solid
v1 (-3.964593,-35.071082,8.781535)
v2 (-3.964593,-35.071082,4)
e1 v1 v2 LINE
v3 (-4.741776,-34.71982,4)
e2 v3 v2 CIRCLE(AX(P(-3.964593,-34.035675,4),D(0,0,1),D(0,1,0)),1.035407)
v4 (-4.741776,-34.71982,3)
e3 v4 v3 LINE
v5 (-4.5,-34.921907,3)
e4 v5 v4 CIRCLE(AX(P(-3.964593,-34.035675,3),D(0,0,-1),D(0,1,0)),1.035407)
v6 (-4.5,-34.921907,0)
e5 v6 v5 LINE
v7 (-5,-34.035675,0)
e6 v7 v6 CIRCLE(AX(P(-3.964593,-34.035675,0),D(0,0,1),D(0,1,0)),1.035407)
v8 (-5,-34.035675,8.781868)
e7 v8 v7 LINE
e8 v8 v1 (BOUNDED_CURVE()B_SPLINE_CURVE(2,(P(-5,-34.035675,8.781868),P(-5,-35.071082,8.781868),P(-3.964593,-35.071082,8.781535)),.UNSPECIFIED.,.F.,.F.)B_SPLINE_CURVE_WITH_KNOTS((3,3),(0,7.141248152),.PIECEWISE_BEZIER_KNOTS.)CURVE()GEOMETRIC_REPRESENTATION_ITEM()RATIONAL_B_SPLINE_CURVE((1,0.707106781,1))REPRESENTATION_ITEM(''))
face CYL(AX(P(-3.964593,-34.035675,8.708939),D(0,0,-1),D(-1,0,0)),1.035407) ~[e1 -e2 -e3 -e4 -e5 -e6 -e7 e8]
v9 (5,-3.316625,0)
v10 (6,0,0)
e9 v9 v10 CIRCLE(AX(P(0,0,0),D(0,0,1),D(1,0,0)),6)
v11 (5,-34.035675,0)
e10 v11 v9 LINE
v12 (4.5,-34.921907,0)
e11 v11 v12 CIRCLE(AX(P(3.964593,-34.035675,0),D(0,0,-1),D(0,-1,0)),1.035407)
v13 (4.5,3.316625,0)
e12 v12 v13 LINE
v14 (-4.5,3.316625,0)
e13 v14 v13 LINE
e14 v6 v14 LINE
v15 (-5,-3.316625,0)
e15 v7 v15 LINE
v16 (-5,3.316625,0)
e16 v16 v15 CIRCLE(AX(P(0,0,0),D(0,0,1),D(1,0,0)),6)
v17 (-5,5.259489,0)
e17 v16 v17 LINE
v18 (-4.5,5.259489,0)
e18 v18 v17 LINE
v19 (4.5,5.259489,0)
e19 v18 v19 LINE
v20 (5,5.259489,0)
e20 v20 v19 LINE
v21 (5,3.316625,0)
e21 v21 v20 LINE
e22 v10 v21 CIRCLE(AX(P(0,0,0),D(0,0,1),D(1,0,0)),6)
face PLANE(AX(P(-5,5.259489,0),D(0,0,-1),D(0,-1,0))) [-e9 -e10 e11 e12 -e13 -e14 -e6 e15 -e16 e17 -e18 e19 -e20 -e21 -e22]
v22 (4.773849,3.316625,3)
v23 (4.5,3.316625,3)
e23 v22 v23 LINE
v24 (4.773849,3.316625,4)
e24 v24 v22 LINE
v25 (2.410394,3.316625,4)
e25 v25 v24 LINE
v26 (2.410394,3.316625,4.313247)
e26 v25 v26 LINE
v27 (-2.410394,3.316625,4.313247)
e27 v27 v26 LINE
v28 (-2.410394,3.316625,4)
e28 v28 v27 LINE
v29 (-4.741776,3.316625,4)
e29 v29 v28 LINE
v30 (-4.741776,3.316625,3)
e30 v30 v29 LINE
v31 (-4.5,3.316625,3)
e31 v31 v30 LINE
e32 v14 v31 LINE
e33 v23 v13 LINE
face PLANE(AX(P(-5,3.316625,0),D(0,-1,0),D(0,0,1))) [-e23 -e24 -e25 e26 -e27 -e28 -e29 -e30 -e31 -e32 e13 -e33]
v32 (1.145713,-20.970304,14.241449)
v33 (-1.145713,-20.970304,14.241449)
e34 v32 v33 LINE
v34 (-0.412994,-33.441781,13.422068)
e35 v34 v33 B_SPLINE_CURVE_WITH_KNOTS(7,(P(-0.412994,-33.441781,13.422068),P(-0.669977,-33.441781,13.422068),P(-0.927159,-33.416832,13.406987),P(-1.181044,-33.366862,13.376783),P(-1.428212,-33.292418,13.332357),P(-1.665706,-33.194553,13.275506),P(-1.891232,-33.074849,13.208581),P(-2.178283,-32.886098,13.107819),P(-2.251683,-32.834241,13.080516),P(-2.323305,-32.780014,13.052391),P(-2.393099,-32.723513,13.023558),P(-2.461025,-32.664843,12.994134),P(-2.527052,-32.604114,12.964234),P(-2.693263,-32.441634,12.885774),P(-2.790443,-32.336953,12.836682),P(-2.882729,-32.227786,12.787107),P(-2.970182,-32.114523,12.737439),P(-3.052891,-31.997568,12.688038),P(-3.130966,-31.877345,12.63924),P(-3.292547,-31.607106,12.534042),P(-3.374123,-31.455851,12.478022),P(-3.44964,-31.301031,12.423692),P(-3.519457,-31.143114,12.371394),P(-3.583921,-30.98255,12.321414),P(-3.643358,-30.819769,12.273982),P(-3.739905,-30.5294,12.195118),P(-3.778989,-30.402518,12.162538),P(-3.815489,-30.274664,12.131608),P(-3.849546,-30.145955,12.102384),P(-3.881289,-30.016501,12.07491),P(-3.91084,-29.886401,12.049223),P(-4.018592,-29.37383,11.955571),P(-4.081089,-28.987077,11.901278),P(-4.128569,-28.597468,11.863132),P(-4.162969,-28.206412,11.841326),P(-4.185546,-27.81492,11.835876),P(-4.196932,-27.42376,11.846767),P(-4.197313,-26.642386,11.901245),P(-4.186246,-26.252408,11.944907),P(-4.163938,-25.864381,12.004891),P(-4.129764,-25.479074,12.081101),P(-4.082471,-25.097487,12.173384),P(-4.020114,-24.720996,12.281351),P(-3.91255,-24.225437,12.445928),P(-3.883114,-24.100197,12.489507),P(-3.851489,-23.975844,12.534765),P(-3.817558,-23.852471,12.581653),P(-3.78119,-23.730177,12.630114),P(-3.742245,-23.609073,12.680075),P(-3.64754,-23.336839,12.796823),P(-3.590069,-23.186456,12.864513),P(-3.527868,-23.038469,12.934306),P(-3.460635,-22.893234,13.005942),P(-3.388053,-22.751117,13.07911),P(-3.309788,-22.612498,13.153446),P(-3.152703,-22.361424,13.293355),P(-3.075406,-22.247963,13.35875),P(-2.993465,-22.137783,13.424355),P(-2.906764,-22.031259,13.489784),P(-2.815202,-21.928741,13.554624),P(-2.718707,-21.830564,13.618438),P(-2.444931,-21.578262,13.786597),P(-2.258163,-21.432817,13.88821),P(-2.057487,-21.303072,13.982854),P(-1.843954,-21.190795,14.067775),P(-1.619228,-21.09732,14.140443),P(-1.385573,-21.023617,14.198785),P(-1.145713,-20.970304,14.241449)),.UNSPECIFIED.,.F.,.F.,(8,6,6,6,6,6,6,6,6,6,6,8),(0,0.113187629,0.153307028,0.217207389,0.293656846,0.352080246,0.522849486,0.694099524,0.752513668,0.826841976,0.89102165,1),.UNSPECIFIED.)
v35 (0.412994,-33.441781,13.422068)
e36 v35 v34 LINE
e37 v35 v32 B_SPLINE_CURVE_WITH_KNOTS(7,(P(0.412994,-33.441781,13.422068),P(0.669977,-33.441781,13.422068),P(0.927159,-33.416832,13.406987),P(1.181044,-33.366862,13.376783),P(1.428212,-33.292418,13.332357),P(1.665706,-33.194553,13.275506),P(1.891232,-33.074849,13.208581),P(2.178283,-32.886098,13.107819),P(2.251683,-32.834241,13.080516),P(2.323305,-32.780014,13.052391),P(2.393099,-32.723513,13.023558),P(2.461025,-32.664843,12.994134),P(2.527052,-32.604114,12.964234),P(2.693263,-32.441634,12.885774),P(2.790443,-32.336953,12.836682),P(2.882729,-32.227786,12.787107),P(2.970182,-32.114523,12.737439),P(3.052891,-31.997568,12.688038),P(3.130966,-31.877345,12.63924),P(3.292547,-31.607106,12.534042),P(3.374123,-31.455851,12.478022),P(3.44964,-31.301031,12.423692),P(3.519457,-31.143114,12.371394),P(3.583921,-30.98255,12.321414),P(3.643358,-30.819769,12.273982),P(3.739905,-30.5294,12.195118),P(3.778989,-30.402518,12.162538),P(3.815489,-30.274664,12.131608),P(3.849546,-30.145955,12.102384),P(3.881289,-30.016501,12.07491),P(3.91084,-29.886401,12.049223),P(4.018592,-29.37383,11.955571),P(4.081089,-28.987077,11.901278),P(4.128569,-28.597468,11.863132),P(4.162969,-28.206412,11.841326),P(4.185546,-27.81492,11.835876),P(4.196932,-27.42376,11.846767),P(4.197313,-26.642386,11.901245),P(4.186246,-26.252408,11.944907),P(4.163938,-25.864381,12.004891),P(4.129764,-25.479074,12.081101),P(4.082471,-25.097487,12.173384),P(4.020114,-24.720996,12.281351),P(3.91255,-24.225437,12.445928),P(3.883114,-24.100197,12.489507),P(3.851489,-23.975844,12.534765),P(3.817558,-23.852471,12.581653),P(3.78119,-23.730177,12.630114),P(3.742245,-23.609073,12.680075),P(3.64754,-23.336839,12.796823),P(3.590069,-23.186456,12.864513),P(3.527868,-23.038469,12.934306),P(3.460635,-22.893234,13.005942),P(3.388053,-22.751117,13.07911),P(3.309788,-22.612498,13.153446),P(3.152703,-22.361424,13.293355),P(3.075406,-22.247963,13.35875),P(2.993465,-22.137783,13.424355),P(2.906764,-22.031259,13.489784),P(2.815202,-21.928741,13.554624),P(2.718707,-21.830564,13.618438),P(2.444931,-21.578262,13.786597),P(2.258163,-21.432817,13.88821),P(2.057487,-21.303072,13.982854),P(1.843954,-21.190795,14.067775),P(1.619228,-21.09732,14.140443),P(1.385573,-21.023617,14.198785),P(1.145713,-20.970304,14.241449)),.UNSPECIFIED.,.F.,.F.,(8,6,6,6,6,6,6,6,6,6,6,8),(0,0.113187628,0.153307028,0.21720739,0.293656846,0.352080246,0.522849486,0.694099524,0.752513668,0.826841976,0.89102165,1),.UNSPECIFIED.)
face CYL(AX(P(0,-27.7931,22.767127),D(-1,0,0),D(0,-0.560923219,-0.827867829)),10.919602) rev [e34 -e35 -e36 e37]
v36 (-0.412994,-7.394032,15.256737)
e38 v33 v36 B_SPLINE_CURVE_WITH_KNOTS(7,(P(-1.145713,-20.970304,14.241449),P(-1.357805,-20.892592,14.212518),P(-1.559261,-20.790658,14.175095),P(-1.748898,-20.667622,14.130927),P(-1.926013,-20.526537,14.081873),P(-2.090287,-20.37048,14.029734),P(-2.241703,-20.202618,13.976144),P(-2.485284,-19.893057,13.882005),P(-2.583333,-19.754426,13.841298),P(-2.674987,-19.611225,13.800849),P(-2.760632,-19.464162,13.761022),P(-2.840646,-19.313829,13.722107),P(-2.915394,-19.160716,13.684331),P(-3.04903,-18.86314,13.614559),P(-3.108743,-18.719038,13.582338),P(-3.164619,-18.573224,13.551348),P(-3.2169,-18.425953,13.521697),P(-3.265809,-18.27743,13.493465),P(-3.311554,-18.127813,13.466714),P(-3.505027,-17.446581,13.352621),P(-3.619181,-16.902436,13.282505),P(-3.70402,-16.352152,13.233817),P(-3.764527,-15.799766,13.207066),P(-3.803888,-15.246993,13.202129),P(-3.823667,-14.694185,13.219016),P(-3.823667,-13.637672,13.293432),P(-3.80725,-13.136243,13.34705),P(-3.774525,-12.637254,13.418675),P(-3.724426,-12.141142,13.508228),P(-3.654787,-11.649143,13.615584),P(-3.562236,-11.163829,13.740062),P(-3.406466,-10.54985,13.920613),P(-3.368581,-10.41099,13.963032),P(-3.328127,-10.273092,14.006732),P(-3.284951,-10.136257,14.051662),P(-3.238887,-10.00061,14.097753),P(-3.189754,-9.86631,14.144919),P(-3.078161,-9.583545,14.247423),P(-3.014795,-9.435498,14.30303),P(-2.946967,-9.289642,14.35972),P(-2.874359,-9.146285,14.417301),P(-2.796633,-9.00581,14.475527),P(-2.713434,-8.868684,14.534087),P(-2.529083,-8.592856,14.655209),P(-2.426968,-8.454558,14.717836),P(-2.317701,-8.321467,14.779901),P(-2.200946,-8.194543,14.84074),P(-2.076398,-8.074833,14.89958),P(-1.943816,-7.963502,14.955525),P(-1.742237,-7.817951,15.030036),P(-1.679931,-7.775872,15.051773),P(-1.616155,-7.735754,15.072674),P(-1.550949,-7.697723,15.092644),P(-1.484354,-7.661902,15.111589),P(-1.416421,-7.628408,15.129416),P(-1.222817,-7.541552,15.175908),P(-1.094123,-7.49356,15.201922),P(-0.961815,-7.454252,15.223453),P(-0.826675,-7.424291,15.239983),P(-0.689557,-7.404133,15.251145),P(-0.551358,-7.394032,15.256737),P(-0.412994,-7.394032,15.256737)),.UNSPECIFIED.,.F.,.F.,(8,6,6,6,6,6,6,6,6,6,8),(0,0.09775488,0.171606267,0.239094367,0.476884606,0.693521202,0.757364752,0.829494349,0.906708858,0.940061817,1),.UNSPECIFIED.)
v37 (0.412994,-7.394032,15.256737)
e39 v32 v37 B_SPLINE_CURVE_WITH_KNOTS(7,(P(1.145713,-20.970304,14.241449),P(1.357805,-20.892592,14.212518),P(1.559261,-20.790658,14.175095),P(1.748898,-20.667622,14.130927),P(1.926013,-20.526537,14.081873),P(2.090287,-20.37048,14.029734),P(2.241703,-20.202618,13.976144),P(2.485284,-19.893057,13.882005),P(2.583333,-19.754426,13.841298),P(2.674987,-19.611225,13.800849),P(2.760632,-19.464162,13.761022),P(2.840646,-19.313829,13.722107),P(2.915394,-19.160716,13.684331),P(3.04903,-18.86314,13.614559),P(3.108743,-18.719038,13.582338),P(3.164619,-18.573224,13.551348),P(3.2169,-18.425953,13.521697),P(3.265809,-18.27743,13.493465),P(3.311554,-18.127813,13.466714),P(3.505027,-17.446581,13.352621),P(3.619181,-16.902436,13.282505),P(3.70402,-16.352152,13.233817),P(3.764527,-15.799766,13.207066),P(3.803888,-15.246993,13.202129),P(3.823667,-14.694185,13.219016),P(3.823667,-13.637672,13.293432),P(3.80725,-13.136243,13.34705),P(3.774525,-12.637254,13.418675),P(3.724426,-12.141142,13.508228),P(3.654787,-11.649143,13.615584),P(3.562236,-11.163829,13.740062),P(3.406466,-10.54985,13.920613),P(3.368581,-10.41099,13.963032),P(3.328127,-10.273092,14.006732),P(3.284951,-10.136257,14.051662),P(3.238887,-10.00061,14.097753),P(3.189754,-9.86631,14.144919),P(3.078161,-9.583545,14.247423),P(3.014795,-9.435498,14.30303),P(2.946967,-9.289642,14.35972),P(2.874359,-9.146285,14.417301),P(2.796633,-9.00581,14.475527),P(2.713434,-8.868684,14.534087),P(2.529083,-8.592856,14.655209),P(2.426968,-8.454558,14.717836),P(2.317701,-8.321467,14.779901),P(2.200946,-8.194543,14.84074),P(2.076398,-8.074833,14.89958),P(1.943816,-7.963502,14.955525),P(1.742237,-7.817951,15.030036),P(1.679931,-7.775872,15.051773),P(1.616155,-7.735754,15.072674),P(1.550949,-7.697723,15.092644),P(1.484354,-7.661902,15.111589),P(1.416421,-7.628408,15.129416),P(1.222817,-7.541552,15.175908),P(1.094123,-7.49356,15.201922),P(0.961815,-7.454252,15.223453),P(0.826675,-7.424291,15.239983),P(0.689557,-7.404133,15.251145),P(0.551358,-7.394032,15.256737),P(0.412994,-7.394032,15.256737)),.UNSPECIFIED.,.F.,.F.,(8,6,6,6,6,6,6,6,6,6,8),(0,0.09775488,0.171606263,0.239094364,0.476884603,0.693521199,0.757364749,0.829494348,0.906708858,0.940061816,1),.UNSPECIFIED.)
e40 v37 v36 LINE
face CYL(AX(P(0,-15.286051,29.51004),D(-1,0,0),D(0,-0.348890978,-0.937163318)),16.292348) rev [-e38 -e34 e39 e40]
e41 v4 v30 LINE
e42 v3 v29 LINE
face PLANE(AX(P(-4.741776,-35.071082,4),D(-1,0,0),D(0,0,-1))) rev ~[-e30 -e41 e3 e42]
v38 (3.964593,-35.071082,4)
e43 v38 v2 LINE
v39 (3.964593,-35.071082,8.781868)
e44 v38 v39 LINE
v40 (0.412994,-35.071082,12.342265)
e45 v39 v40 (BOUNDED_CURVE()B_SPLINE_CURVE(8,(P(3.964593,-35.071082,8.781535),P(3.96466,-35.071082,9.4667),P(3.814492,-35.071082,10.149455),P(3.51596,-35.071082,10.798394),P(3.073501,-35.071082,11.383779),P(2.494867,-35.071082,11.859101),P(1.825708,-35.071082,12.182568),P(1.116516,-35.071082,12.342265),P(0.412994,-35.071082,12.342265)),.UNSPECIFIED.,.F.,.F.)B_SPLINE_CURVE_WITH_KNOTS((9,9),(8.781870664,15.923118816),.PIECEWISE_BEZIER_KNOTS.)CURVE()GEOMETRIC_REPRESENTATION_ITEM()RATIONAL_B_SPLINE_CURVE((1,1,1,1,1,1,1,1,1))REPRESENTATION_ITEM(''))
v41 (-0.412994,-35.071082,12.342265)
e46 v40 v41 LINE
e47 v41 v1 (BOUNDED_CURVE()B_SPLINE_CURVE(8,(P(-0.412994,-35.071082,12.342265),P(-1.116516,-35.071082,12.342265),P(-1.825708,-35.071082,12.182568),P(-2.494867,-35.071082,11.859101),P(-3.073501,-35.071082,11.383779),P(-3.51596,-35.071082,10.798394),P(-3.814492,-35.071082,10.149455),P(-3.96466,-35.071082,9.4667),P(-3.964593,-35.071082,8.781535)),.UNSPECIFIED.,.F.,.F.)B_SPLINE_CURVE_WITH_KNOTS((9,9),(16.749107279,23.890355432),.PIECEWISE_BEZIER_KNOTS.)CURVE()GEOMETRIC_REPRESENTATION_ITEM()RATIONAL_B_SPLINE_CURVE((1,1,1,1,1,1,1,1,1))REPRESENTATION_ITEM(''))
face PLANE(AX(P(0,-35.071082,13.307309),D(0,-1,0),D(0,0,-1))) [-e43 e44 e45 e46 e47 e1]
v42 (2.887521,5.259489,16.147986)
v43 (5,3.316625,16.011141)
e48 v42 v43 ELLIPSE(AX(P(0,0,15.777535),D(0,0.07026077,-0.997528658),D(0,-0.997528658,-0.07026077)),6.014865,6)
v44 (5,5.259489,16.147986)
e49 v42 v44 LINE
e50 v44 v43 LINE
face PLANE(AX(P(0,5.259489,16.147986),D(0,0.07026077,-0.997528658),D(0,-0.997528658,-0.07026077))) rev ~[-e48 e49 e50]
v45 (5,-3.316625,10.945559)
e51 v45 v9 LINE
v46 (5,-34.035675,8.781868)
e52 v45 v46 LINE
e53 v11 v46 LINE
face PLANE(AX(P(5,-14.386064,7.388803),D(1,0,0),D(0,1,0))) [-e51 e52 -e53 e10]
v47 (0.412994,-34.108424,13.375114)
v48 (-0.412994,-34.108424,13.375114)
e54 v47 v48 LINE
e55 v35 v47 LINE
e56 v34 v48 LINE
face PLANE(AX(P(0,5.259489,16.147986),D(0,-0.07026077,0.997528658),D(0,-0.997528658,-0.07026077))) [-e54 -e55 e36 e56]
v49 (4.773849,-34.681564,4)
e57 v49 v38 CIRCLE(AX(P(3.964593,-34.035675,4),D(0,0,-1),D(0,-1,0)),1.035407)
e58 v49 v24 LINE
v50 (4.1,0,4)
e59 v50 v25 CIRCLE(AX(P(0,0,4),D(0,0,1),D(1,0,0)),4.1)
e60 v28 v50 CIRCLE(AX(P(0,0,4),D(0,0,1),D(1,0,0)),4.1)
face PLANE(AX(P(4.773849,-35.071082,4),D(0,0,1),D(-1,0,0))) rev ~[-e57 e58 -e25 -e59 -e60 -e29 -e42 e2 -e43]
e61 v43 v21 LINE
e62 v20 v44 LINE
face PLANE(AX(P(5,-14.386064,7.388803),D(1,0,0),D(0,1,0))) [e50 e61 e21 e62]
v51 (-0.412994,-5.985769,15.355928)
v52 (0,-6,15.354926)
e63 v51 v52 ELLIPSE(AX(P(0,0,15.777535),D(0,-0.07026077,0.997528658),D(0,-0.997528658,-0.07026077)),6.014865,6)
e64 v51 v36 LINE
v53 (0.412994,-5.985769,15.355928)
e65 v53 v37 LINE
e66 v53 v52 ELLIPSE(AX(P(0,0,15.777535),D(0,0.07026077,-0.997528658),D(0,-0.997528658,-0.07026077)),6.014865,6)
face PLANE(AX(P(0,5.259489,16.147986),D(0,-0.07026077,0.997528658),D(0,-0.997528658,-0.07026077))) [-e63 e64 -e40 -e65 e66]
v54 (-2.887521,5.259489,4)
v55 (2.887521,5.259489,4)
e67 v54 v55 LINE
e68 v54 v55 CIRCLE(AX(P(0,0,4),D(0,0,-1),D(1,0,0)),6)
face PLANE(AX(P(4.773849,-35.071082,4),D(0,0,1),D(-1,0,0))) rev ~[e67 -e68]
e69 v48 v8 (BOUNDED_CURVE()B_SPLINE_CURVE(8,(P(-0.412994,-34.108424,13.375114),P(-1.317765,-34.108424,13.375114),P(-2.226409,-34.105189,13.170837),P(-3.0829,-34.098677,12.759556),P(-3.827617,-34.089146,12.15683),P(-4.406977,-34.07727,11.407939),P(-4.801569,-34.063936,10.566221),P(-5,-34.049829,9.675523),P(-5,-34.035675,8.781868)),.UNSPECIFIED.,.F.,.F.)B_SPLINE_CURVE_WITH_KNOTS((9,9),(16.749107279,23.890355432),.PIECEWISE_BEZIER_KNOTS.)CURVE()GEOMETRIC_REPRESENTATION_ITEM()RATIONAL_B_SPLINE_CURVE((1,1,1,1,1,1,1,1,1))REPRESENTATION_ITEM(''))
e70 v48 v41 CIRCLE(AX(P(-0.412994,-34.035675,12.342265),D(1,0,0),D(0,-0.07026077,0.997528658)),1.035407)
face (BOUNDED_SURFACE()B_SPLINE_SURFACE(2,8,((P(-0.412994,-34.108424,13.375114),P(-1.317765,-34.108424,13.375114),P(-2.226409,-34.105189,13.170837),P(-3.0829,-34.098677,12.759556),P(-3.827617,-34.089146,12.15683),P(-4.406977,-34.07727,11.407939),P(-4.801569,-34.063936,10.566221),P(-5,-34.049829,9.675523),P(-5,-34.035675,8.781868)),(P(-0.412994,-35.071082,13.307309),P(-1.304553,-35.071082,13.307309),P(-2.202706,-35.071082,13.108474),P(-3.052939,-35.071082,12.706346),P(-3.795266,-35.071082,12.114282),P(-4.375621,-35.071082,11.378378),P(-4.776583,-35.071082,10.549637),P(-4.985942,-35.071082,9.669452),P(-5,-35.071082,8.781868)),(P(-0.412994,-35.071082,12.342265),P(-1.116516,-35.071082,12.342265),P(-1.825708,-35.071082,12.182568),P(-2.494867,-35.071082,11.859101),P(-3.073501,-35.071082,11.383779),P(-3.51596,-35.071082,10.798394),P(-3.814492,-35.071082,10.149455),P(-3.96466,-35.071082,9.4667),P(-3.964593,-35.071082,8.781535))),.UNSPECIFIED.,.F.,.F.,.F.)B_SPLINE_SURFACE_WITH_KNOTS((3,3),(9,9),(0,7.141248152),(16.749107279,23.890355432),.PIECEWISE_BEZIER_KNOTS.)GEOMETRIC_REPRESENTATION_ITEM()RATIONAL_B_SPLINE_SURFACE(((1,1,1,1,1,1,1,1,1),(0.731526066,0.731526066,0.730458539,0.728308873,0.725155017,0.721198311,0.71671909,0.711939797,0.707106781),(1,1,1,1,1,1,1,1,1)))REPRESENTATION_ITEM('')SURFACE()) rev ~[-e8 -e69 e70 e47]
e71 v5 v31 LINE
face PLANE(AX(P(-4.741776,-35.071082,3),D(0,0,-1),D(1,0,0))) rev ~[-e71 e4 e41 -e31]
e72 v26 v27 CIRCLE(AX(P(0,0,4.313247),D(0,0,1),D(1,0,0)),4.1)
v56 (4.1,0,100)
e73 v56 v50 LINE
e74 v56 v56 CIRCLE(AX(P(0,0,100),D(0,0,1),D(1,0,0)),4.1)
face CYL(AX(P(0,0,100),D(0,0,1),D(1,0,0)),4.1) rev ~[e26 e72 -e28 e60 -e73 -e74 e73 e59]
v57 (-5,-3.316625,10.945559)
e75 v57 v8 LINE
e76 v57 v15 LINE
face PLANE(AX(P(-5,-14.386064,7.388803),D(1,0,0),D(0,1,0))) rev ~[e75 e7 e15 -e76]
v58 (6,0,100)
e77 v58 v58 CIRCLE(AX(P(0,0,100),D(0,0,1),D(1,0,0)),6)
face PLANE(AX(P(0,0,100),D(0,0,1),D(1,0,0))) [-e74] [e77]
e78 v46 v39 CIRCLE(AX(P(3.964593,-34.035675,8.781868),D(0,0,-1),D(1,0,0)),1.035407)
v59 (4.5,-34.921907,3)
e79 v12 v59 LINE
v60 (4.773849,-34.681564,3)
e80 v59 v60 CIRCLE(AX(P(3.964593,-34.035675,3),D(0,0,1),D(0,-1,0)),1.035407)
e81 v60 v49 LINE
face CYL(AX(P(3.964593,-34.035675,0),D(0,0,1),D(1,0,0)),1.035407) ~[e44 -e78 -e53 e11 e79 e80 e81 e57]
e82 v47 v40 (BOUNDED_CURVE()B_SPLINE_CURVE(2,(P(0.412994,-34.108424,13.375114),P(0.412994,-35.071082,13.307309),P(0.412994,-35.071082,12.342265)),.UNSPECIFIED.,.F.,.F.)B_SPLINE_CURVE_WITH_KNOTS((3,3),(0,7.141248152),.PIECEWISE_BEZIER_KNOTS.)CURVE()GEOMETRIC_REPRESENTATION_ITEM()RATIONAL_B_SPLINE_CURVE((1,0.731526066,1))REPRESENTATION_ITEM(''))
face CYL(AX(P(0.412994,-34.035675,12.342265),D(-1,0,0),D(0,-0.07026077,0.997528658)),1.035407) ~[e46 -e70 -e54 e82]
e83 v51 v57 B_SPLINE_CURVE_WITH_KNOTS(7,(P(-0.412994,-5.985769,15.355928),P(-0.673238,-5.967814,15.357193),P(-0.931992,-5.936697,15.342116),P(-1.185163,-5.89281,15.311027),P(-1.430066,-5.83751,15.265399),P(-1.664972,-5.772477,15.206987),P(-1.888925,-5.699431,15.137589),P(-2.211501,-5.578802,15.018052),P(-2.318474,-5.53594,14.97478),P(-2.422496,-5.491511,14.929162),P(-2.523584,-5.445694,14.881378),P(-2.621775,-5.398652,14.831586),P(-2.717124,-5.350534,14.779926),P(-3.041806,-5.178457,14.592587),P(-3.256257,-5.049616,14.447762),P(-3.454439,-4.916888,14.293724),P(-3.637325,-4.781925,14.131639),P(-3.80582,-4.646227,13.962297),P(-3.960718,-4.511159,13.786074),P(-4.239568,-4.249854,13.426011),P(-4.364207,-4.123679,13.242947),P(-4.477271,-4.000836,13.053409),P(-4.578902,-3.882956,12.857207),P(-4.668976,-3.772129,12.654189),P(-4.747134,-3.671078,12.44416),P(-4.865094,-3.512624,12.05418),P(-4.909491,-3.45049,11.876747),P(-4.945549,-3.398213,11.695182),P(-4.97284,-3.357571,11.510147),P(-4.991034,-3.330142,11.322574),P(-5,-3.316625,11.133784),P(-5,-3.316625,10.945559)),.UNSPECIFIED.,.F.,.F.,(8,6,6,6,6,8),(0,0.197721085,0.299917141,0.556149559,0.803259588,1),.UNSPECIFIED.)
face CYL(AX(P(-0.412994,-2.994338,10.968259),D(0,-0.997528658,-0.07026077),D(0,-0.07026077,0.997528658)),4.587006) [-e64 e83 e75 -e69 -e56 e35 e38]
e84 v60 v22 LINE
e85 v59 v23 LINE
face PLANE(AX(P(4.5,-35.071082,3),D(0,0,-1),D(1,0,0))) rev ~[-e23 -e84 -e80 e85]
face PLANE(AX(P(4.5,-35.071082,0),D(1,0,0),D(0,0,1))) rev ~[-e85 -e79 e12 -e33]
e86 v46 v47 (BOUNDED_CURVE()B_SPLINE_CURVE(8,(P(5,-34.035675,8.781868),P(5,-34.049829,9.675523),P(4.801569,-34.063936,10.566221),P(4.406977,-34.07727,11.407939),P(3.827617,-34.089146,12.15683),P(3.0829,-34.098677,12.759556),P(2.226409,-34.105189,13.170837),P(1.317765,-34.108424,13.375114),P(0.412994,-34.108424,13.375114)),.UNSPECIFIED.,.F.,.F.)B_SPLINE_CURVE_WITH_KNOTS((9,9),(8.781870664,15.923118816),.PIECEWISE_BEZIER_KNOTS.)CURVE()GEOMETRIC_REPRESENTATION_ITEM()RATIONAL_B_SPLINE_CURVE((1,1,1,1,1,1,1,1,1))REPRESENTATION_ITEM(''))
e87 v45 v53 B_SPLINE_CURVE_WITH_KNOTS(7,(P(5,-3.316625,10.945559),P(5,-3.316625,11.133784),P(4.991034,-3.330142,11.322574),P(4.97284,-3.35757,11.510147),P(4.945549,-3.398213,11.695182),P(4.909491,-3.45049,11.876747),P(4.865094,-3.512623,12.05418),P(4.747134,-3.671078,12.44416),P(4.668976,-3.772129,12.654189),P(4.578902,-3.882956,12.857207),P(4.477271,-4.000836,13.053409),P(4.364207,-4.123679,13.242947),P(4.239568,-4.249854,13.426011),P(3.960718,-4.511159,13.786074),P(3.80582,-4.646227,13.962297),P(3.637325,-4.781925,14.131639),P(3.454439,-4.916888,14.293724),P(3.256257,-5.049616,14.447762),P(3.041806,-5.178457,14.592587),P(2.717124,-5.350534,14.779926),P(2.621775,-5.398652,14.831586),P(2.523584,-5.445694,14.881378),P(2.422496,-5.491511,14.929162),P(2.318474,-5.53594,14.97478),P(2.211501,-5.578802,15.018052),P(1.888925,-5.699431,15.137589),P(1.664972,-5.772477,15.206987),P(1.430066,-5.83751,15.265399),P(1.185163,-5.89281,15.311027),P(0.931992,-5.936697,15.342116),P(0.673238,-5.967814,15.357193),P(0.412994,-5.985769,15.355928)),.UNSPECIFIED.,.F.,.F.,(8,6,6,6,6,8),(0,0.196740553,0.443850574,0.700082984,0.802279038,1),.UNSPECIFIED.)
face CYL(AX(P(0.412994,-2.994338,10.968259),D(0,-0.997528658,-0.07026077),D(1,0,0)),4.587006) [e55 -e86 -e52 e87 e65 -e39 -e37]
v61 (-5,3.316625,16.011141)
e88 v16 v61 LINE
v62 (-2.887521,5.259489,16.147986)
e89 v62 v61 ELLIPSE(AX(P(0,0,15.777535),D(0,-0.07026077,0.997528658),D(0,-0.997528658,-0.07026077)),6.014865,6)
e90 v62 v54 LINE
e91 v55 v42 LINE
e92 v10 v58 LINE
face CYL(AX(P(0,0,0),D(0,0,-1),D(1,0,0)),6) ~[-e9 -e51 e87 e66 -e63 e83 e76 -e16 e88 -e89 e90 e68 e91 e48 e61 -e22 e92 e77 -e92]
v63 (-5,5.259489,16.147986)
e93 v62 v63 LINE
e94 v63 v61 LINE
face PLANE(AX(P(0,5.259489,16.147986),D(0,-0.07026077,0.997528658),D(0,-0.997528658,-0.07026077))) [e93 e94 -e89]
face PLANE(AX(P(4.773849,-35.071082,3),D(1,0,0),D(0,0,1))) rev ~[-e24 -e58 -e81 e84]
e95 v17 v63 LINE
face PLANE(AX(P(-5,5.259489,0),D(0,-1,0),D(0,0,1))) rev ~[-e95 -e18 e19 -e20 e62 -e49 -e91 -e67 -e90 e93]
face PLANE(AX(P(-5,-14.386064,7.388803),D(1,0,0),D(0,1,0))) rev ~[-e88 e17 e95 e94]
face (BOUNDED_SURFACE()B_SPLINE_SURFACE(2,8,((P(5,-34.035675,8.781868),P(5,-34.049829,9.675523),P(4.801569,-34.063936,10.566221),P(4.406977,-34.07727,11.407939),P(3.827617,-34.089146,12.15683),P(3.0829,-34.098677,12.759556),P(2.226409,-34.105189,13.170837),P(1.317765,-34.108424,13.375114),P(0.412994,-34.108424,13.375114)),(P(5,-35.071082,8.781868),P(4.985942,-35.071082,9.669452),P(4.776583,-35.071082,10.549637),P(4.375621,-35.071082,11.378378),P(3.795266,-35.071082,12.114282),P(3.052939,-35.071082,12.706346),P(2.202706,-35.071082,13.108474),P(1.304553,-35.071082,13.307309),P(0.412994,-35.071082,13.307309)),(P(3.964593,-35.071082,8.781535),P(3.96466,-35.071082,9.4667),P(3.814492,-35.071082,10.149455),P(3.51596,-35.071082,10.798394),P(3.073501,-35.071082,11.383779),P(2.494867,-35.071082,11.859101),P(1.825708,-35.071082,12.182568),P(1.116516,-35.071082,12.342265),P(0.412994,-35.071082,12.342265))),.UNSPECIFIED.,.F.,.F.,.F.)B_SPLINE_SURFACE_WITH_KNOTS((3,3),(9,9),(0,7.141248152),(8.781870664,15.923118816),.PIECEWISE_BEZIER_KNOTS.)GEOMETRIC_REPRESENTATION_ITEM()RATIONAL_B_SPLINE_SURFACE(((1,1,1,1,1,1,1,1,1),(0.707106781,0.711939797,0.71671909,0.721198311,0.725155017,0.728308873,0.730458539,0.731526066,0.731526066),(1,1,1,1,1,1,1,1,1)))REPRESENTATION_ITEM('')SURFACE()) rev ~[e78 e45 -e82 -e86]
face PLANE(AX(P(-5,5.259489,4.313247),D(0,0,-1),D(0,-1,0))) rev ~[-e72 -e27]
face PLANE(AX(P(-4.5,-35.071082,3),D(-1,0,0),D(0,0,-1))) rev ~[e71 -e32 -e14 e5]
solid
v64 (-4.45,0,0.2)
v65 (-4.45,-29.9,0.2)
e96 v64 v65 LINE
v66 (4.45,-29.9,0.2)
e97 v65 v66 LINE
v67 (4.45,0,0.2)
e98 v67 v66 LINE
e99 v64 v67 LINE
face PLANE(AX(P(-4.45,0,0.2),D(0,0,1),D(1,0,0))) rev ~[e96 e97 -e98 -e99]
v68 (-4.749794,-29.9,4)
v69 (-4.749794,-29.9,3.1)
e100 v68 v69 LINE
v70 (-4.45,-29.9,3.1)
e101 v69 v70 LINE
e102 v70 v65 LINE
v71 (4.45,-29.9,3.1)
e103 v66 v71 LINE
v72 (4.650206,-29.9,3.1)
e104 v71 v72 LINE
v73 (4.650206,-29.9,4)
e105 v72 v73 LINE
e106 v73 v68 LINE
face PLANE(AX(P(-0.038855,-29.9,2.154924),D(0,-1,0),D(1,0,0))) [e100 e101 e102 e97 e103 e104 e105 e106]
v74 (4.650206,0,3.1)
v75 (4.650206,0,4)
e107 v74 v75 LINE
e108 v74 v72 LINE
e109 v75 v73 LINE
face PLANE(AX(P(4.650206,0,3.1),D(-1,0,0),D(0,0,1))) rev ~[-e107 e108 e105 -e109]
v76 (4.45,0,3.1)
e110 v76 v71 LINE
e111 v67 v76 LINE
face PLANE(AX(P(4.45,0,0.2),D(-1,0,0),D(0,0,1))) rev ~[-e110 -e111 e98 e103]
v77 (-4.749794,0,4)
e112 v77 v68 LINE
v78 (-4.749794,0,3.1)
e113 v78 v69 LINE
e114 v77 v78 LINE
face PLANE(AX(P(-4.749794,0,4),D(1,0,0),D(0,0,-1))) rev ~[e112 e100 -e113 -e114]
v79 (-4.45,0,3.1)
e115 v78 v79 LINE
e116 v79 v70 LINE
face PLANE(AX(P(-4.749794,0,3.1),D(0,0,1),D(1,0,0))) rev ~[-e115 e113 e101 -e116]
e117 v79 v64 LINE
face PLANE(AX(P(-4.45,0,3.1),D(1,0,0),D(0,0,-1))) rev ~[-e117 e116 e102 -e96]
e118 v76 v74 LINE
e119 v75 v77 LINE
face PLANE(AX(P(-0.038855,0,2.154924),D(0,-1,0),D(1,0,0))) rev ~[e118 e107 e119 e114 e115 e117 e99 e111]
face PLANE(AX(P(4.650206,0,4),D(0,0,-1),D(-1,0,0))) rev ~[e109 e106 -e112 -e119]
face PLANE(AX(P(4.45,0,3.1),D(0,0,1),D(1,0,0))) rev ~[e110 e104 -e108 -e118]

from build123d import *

# Parameters (mm, degrees)
F0_R           = 6
F1_DEPTH       = 100
F3_DEPTH       = 5
F3_DEPTH_BACK  = 5
F4_R           = 4.1
F5_DEPTH       = 125.4
F7_DEPTH       = 41.0720824132
F9_DEPTH       = 29.9
F10_W          = 1.9428639189
F10_H          = 4.3132465668
F11_DEPTH      = 9.9
F12_R          = 4.5870057685
F13_R          = 1.0354074261
F15_DEPTH      = 25
F15_DEPTH_BACK = 25


with BuildPart() as f1:
    # F0 (on Top) → F1 (new body)
    with BuildSketch(Plane.XY):
        Circle(F0_R)
    extrude(amount=F1_DEPTH)

    # F2 (on Right) → F3 (join, two sides)
    with BuildSketch(Plane.YZ) as f3_sk:
        Polygon((-35.0710824132, 13.3073087782), (-35.0710824132, 0), (5.2594887093, 0), (5.2594887093, 16.1479860544), align=None)
    extrude(amount=F3_DEPTH)
    extrude(f3_sk.sketch, amount=-F3_DEPTH_BACK)

    # F4 (on face) → F5 (cut)
    with BuildSketch(Plane.XY.offset(100)):
        Circle(F4_R)
    extrude(amount=-F5_DEPTH, mode=Mode.SUBTRACT)

    # F6 (on face) → F7 (cut, through all)
    with BuildSketch(Plane.XZ.offset(35.0710824132)):
        Polygon((-4.5, 3), (-4.5, 0), (4.5, 0), (4.5, 3), (4.773848962, 3), (4.773848962, 4), (-4.741775997, 4), (-4.741775997, 3), align=None)
    extrude(amount=-F7_DEPTH, mode=Mode.SUBTRACT)

    # F10 (on face) → F11 (join)
    with BuildSketch(Plane(origin=(-5, 0, 0), x_dir=(0, -1, 0), z_dir=(-1, 0, 0))):
        with Locations((-4.2880567498, 2.1566232834)):
            Rectangle(F10_W, F10_H)
    extrude(amount=-F11_DEPTH)

    # F12
    f12_edges = [f1.edges().sort_by_distance(p)[0] for p in [
        (5, -19.193854, 14.425619),
        (-5, -19.193854, 14.425619),
    ]]
    fillet(f12_edges, radius=F12_R)

    # F13
    f13_edges = [f1.edges().sort_by_distance(p)[0] for p in [
        (3.658503, -35.071082, 11.958465),
        (-3.658503, -35.071082, 11.958465),
        (0, -35.071082, 13.307309),
    ]]
    fillet(f13_edges, radius=F13_R)

    # F14 (on Right) → F15 (cut, two sides)
    with BuildSketch(Plane.YZ) as f15_sk:
        with BuildLine():
            Line((-6.6120252013, 15.7186705619), (-33.9181585425, 13.7271391695))
            ThreePointArc((-33.9181585425, 13.7271391695), (-27.3596972557, 11.856128674), (-20.9703044678, 14.2414493078))
            ThreePointArc((-20.9703044678, 14.2414493078), (-13.6186487576, 13.3032400244), (-6.6120252013, 15.7186705619))
        make_face()
    extrude(amount=-F15_DEPTH, mode=Mode.SUBTRACT)
    extrude(f15_sk.sketch, amount=F15_DEPTH_BACK, mode=Mode.SUBTRACT)


with BuildPart() as f9:
    # F8 (on Front) → F9 (new body)
    with BuildSketch(Plane.XZ):
        Polygon((-4.45, 3.1), (-4.45, 0.2), (4.45, 0.2), (4.45, 3.1), (4.6502057618, 3.1), (4.6502057618, 4), (-4.7497942382, 4), (-4.7497942382, 3.1), align=None)
    extrude(amount=F9_DEPTH)


solid = Compound([f1.part, f9.part])
